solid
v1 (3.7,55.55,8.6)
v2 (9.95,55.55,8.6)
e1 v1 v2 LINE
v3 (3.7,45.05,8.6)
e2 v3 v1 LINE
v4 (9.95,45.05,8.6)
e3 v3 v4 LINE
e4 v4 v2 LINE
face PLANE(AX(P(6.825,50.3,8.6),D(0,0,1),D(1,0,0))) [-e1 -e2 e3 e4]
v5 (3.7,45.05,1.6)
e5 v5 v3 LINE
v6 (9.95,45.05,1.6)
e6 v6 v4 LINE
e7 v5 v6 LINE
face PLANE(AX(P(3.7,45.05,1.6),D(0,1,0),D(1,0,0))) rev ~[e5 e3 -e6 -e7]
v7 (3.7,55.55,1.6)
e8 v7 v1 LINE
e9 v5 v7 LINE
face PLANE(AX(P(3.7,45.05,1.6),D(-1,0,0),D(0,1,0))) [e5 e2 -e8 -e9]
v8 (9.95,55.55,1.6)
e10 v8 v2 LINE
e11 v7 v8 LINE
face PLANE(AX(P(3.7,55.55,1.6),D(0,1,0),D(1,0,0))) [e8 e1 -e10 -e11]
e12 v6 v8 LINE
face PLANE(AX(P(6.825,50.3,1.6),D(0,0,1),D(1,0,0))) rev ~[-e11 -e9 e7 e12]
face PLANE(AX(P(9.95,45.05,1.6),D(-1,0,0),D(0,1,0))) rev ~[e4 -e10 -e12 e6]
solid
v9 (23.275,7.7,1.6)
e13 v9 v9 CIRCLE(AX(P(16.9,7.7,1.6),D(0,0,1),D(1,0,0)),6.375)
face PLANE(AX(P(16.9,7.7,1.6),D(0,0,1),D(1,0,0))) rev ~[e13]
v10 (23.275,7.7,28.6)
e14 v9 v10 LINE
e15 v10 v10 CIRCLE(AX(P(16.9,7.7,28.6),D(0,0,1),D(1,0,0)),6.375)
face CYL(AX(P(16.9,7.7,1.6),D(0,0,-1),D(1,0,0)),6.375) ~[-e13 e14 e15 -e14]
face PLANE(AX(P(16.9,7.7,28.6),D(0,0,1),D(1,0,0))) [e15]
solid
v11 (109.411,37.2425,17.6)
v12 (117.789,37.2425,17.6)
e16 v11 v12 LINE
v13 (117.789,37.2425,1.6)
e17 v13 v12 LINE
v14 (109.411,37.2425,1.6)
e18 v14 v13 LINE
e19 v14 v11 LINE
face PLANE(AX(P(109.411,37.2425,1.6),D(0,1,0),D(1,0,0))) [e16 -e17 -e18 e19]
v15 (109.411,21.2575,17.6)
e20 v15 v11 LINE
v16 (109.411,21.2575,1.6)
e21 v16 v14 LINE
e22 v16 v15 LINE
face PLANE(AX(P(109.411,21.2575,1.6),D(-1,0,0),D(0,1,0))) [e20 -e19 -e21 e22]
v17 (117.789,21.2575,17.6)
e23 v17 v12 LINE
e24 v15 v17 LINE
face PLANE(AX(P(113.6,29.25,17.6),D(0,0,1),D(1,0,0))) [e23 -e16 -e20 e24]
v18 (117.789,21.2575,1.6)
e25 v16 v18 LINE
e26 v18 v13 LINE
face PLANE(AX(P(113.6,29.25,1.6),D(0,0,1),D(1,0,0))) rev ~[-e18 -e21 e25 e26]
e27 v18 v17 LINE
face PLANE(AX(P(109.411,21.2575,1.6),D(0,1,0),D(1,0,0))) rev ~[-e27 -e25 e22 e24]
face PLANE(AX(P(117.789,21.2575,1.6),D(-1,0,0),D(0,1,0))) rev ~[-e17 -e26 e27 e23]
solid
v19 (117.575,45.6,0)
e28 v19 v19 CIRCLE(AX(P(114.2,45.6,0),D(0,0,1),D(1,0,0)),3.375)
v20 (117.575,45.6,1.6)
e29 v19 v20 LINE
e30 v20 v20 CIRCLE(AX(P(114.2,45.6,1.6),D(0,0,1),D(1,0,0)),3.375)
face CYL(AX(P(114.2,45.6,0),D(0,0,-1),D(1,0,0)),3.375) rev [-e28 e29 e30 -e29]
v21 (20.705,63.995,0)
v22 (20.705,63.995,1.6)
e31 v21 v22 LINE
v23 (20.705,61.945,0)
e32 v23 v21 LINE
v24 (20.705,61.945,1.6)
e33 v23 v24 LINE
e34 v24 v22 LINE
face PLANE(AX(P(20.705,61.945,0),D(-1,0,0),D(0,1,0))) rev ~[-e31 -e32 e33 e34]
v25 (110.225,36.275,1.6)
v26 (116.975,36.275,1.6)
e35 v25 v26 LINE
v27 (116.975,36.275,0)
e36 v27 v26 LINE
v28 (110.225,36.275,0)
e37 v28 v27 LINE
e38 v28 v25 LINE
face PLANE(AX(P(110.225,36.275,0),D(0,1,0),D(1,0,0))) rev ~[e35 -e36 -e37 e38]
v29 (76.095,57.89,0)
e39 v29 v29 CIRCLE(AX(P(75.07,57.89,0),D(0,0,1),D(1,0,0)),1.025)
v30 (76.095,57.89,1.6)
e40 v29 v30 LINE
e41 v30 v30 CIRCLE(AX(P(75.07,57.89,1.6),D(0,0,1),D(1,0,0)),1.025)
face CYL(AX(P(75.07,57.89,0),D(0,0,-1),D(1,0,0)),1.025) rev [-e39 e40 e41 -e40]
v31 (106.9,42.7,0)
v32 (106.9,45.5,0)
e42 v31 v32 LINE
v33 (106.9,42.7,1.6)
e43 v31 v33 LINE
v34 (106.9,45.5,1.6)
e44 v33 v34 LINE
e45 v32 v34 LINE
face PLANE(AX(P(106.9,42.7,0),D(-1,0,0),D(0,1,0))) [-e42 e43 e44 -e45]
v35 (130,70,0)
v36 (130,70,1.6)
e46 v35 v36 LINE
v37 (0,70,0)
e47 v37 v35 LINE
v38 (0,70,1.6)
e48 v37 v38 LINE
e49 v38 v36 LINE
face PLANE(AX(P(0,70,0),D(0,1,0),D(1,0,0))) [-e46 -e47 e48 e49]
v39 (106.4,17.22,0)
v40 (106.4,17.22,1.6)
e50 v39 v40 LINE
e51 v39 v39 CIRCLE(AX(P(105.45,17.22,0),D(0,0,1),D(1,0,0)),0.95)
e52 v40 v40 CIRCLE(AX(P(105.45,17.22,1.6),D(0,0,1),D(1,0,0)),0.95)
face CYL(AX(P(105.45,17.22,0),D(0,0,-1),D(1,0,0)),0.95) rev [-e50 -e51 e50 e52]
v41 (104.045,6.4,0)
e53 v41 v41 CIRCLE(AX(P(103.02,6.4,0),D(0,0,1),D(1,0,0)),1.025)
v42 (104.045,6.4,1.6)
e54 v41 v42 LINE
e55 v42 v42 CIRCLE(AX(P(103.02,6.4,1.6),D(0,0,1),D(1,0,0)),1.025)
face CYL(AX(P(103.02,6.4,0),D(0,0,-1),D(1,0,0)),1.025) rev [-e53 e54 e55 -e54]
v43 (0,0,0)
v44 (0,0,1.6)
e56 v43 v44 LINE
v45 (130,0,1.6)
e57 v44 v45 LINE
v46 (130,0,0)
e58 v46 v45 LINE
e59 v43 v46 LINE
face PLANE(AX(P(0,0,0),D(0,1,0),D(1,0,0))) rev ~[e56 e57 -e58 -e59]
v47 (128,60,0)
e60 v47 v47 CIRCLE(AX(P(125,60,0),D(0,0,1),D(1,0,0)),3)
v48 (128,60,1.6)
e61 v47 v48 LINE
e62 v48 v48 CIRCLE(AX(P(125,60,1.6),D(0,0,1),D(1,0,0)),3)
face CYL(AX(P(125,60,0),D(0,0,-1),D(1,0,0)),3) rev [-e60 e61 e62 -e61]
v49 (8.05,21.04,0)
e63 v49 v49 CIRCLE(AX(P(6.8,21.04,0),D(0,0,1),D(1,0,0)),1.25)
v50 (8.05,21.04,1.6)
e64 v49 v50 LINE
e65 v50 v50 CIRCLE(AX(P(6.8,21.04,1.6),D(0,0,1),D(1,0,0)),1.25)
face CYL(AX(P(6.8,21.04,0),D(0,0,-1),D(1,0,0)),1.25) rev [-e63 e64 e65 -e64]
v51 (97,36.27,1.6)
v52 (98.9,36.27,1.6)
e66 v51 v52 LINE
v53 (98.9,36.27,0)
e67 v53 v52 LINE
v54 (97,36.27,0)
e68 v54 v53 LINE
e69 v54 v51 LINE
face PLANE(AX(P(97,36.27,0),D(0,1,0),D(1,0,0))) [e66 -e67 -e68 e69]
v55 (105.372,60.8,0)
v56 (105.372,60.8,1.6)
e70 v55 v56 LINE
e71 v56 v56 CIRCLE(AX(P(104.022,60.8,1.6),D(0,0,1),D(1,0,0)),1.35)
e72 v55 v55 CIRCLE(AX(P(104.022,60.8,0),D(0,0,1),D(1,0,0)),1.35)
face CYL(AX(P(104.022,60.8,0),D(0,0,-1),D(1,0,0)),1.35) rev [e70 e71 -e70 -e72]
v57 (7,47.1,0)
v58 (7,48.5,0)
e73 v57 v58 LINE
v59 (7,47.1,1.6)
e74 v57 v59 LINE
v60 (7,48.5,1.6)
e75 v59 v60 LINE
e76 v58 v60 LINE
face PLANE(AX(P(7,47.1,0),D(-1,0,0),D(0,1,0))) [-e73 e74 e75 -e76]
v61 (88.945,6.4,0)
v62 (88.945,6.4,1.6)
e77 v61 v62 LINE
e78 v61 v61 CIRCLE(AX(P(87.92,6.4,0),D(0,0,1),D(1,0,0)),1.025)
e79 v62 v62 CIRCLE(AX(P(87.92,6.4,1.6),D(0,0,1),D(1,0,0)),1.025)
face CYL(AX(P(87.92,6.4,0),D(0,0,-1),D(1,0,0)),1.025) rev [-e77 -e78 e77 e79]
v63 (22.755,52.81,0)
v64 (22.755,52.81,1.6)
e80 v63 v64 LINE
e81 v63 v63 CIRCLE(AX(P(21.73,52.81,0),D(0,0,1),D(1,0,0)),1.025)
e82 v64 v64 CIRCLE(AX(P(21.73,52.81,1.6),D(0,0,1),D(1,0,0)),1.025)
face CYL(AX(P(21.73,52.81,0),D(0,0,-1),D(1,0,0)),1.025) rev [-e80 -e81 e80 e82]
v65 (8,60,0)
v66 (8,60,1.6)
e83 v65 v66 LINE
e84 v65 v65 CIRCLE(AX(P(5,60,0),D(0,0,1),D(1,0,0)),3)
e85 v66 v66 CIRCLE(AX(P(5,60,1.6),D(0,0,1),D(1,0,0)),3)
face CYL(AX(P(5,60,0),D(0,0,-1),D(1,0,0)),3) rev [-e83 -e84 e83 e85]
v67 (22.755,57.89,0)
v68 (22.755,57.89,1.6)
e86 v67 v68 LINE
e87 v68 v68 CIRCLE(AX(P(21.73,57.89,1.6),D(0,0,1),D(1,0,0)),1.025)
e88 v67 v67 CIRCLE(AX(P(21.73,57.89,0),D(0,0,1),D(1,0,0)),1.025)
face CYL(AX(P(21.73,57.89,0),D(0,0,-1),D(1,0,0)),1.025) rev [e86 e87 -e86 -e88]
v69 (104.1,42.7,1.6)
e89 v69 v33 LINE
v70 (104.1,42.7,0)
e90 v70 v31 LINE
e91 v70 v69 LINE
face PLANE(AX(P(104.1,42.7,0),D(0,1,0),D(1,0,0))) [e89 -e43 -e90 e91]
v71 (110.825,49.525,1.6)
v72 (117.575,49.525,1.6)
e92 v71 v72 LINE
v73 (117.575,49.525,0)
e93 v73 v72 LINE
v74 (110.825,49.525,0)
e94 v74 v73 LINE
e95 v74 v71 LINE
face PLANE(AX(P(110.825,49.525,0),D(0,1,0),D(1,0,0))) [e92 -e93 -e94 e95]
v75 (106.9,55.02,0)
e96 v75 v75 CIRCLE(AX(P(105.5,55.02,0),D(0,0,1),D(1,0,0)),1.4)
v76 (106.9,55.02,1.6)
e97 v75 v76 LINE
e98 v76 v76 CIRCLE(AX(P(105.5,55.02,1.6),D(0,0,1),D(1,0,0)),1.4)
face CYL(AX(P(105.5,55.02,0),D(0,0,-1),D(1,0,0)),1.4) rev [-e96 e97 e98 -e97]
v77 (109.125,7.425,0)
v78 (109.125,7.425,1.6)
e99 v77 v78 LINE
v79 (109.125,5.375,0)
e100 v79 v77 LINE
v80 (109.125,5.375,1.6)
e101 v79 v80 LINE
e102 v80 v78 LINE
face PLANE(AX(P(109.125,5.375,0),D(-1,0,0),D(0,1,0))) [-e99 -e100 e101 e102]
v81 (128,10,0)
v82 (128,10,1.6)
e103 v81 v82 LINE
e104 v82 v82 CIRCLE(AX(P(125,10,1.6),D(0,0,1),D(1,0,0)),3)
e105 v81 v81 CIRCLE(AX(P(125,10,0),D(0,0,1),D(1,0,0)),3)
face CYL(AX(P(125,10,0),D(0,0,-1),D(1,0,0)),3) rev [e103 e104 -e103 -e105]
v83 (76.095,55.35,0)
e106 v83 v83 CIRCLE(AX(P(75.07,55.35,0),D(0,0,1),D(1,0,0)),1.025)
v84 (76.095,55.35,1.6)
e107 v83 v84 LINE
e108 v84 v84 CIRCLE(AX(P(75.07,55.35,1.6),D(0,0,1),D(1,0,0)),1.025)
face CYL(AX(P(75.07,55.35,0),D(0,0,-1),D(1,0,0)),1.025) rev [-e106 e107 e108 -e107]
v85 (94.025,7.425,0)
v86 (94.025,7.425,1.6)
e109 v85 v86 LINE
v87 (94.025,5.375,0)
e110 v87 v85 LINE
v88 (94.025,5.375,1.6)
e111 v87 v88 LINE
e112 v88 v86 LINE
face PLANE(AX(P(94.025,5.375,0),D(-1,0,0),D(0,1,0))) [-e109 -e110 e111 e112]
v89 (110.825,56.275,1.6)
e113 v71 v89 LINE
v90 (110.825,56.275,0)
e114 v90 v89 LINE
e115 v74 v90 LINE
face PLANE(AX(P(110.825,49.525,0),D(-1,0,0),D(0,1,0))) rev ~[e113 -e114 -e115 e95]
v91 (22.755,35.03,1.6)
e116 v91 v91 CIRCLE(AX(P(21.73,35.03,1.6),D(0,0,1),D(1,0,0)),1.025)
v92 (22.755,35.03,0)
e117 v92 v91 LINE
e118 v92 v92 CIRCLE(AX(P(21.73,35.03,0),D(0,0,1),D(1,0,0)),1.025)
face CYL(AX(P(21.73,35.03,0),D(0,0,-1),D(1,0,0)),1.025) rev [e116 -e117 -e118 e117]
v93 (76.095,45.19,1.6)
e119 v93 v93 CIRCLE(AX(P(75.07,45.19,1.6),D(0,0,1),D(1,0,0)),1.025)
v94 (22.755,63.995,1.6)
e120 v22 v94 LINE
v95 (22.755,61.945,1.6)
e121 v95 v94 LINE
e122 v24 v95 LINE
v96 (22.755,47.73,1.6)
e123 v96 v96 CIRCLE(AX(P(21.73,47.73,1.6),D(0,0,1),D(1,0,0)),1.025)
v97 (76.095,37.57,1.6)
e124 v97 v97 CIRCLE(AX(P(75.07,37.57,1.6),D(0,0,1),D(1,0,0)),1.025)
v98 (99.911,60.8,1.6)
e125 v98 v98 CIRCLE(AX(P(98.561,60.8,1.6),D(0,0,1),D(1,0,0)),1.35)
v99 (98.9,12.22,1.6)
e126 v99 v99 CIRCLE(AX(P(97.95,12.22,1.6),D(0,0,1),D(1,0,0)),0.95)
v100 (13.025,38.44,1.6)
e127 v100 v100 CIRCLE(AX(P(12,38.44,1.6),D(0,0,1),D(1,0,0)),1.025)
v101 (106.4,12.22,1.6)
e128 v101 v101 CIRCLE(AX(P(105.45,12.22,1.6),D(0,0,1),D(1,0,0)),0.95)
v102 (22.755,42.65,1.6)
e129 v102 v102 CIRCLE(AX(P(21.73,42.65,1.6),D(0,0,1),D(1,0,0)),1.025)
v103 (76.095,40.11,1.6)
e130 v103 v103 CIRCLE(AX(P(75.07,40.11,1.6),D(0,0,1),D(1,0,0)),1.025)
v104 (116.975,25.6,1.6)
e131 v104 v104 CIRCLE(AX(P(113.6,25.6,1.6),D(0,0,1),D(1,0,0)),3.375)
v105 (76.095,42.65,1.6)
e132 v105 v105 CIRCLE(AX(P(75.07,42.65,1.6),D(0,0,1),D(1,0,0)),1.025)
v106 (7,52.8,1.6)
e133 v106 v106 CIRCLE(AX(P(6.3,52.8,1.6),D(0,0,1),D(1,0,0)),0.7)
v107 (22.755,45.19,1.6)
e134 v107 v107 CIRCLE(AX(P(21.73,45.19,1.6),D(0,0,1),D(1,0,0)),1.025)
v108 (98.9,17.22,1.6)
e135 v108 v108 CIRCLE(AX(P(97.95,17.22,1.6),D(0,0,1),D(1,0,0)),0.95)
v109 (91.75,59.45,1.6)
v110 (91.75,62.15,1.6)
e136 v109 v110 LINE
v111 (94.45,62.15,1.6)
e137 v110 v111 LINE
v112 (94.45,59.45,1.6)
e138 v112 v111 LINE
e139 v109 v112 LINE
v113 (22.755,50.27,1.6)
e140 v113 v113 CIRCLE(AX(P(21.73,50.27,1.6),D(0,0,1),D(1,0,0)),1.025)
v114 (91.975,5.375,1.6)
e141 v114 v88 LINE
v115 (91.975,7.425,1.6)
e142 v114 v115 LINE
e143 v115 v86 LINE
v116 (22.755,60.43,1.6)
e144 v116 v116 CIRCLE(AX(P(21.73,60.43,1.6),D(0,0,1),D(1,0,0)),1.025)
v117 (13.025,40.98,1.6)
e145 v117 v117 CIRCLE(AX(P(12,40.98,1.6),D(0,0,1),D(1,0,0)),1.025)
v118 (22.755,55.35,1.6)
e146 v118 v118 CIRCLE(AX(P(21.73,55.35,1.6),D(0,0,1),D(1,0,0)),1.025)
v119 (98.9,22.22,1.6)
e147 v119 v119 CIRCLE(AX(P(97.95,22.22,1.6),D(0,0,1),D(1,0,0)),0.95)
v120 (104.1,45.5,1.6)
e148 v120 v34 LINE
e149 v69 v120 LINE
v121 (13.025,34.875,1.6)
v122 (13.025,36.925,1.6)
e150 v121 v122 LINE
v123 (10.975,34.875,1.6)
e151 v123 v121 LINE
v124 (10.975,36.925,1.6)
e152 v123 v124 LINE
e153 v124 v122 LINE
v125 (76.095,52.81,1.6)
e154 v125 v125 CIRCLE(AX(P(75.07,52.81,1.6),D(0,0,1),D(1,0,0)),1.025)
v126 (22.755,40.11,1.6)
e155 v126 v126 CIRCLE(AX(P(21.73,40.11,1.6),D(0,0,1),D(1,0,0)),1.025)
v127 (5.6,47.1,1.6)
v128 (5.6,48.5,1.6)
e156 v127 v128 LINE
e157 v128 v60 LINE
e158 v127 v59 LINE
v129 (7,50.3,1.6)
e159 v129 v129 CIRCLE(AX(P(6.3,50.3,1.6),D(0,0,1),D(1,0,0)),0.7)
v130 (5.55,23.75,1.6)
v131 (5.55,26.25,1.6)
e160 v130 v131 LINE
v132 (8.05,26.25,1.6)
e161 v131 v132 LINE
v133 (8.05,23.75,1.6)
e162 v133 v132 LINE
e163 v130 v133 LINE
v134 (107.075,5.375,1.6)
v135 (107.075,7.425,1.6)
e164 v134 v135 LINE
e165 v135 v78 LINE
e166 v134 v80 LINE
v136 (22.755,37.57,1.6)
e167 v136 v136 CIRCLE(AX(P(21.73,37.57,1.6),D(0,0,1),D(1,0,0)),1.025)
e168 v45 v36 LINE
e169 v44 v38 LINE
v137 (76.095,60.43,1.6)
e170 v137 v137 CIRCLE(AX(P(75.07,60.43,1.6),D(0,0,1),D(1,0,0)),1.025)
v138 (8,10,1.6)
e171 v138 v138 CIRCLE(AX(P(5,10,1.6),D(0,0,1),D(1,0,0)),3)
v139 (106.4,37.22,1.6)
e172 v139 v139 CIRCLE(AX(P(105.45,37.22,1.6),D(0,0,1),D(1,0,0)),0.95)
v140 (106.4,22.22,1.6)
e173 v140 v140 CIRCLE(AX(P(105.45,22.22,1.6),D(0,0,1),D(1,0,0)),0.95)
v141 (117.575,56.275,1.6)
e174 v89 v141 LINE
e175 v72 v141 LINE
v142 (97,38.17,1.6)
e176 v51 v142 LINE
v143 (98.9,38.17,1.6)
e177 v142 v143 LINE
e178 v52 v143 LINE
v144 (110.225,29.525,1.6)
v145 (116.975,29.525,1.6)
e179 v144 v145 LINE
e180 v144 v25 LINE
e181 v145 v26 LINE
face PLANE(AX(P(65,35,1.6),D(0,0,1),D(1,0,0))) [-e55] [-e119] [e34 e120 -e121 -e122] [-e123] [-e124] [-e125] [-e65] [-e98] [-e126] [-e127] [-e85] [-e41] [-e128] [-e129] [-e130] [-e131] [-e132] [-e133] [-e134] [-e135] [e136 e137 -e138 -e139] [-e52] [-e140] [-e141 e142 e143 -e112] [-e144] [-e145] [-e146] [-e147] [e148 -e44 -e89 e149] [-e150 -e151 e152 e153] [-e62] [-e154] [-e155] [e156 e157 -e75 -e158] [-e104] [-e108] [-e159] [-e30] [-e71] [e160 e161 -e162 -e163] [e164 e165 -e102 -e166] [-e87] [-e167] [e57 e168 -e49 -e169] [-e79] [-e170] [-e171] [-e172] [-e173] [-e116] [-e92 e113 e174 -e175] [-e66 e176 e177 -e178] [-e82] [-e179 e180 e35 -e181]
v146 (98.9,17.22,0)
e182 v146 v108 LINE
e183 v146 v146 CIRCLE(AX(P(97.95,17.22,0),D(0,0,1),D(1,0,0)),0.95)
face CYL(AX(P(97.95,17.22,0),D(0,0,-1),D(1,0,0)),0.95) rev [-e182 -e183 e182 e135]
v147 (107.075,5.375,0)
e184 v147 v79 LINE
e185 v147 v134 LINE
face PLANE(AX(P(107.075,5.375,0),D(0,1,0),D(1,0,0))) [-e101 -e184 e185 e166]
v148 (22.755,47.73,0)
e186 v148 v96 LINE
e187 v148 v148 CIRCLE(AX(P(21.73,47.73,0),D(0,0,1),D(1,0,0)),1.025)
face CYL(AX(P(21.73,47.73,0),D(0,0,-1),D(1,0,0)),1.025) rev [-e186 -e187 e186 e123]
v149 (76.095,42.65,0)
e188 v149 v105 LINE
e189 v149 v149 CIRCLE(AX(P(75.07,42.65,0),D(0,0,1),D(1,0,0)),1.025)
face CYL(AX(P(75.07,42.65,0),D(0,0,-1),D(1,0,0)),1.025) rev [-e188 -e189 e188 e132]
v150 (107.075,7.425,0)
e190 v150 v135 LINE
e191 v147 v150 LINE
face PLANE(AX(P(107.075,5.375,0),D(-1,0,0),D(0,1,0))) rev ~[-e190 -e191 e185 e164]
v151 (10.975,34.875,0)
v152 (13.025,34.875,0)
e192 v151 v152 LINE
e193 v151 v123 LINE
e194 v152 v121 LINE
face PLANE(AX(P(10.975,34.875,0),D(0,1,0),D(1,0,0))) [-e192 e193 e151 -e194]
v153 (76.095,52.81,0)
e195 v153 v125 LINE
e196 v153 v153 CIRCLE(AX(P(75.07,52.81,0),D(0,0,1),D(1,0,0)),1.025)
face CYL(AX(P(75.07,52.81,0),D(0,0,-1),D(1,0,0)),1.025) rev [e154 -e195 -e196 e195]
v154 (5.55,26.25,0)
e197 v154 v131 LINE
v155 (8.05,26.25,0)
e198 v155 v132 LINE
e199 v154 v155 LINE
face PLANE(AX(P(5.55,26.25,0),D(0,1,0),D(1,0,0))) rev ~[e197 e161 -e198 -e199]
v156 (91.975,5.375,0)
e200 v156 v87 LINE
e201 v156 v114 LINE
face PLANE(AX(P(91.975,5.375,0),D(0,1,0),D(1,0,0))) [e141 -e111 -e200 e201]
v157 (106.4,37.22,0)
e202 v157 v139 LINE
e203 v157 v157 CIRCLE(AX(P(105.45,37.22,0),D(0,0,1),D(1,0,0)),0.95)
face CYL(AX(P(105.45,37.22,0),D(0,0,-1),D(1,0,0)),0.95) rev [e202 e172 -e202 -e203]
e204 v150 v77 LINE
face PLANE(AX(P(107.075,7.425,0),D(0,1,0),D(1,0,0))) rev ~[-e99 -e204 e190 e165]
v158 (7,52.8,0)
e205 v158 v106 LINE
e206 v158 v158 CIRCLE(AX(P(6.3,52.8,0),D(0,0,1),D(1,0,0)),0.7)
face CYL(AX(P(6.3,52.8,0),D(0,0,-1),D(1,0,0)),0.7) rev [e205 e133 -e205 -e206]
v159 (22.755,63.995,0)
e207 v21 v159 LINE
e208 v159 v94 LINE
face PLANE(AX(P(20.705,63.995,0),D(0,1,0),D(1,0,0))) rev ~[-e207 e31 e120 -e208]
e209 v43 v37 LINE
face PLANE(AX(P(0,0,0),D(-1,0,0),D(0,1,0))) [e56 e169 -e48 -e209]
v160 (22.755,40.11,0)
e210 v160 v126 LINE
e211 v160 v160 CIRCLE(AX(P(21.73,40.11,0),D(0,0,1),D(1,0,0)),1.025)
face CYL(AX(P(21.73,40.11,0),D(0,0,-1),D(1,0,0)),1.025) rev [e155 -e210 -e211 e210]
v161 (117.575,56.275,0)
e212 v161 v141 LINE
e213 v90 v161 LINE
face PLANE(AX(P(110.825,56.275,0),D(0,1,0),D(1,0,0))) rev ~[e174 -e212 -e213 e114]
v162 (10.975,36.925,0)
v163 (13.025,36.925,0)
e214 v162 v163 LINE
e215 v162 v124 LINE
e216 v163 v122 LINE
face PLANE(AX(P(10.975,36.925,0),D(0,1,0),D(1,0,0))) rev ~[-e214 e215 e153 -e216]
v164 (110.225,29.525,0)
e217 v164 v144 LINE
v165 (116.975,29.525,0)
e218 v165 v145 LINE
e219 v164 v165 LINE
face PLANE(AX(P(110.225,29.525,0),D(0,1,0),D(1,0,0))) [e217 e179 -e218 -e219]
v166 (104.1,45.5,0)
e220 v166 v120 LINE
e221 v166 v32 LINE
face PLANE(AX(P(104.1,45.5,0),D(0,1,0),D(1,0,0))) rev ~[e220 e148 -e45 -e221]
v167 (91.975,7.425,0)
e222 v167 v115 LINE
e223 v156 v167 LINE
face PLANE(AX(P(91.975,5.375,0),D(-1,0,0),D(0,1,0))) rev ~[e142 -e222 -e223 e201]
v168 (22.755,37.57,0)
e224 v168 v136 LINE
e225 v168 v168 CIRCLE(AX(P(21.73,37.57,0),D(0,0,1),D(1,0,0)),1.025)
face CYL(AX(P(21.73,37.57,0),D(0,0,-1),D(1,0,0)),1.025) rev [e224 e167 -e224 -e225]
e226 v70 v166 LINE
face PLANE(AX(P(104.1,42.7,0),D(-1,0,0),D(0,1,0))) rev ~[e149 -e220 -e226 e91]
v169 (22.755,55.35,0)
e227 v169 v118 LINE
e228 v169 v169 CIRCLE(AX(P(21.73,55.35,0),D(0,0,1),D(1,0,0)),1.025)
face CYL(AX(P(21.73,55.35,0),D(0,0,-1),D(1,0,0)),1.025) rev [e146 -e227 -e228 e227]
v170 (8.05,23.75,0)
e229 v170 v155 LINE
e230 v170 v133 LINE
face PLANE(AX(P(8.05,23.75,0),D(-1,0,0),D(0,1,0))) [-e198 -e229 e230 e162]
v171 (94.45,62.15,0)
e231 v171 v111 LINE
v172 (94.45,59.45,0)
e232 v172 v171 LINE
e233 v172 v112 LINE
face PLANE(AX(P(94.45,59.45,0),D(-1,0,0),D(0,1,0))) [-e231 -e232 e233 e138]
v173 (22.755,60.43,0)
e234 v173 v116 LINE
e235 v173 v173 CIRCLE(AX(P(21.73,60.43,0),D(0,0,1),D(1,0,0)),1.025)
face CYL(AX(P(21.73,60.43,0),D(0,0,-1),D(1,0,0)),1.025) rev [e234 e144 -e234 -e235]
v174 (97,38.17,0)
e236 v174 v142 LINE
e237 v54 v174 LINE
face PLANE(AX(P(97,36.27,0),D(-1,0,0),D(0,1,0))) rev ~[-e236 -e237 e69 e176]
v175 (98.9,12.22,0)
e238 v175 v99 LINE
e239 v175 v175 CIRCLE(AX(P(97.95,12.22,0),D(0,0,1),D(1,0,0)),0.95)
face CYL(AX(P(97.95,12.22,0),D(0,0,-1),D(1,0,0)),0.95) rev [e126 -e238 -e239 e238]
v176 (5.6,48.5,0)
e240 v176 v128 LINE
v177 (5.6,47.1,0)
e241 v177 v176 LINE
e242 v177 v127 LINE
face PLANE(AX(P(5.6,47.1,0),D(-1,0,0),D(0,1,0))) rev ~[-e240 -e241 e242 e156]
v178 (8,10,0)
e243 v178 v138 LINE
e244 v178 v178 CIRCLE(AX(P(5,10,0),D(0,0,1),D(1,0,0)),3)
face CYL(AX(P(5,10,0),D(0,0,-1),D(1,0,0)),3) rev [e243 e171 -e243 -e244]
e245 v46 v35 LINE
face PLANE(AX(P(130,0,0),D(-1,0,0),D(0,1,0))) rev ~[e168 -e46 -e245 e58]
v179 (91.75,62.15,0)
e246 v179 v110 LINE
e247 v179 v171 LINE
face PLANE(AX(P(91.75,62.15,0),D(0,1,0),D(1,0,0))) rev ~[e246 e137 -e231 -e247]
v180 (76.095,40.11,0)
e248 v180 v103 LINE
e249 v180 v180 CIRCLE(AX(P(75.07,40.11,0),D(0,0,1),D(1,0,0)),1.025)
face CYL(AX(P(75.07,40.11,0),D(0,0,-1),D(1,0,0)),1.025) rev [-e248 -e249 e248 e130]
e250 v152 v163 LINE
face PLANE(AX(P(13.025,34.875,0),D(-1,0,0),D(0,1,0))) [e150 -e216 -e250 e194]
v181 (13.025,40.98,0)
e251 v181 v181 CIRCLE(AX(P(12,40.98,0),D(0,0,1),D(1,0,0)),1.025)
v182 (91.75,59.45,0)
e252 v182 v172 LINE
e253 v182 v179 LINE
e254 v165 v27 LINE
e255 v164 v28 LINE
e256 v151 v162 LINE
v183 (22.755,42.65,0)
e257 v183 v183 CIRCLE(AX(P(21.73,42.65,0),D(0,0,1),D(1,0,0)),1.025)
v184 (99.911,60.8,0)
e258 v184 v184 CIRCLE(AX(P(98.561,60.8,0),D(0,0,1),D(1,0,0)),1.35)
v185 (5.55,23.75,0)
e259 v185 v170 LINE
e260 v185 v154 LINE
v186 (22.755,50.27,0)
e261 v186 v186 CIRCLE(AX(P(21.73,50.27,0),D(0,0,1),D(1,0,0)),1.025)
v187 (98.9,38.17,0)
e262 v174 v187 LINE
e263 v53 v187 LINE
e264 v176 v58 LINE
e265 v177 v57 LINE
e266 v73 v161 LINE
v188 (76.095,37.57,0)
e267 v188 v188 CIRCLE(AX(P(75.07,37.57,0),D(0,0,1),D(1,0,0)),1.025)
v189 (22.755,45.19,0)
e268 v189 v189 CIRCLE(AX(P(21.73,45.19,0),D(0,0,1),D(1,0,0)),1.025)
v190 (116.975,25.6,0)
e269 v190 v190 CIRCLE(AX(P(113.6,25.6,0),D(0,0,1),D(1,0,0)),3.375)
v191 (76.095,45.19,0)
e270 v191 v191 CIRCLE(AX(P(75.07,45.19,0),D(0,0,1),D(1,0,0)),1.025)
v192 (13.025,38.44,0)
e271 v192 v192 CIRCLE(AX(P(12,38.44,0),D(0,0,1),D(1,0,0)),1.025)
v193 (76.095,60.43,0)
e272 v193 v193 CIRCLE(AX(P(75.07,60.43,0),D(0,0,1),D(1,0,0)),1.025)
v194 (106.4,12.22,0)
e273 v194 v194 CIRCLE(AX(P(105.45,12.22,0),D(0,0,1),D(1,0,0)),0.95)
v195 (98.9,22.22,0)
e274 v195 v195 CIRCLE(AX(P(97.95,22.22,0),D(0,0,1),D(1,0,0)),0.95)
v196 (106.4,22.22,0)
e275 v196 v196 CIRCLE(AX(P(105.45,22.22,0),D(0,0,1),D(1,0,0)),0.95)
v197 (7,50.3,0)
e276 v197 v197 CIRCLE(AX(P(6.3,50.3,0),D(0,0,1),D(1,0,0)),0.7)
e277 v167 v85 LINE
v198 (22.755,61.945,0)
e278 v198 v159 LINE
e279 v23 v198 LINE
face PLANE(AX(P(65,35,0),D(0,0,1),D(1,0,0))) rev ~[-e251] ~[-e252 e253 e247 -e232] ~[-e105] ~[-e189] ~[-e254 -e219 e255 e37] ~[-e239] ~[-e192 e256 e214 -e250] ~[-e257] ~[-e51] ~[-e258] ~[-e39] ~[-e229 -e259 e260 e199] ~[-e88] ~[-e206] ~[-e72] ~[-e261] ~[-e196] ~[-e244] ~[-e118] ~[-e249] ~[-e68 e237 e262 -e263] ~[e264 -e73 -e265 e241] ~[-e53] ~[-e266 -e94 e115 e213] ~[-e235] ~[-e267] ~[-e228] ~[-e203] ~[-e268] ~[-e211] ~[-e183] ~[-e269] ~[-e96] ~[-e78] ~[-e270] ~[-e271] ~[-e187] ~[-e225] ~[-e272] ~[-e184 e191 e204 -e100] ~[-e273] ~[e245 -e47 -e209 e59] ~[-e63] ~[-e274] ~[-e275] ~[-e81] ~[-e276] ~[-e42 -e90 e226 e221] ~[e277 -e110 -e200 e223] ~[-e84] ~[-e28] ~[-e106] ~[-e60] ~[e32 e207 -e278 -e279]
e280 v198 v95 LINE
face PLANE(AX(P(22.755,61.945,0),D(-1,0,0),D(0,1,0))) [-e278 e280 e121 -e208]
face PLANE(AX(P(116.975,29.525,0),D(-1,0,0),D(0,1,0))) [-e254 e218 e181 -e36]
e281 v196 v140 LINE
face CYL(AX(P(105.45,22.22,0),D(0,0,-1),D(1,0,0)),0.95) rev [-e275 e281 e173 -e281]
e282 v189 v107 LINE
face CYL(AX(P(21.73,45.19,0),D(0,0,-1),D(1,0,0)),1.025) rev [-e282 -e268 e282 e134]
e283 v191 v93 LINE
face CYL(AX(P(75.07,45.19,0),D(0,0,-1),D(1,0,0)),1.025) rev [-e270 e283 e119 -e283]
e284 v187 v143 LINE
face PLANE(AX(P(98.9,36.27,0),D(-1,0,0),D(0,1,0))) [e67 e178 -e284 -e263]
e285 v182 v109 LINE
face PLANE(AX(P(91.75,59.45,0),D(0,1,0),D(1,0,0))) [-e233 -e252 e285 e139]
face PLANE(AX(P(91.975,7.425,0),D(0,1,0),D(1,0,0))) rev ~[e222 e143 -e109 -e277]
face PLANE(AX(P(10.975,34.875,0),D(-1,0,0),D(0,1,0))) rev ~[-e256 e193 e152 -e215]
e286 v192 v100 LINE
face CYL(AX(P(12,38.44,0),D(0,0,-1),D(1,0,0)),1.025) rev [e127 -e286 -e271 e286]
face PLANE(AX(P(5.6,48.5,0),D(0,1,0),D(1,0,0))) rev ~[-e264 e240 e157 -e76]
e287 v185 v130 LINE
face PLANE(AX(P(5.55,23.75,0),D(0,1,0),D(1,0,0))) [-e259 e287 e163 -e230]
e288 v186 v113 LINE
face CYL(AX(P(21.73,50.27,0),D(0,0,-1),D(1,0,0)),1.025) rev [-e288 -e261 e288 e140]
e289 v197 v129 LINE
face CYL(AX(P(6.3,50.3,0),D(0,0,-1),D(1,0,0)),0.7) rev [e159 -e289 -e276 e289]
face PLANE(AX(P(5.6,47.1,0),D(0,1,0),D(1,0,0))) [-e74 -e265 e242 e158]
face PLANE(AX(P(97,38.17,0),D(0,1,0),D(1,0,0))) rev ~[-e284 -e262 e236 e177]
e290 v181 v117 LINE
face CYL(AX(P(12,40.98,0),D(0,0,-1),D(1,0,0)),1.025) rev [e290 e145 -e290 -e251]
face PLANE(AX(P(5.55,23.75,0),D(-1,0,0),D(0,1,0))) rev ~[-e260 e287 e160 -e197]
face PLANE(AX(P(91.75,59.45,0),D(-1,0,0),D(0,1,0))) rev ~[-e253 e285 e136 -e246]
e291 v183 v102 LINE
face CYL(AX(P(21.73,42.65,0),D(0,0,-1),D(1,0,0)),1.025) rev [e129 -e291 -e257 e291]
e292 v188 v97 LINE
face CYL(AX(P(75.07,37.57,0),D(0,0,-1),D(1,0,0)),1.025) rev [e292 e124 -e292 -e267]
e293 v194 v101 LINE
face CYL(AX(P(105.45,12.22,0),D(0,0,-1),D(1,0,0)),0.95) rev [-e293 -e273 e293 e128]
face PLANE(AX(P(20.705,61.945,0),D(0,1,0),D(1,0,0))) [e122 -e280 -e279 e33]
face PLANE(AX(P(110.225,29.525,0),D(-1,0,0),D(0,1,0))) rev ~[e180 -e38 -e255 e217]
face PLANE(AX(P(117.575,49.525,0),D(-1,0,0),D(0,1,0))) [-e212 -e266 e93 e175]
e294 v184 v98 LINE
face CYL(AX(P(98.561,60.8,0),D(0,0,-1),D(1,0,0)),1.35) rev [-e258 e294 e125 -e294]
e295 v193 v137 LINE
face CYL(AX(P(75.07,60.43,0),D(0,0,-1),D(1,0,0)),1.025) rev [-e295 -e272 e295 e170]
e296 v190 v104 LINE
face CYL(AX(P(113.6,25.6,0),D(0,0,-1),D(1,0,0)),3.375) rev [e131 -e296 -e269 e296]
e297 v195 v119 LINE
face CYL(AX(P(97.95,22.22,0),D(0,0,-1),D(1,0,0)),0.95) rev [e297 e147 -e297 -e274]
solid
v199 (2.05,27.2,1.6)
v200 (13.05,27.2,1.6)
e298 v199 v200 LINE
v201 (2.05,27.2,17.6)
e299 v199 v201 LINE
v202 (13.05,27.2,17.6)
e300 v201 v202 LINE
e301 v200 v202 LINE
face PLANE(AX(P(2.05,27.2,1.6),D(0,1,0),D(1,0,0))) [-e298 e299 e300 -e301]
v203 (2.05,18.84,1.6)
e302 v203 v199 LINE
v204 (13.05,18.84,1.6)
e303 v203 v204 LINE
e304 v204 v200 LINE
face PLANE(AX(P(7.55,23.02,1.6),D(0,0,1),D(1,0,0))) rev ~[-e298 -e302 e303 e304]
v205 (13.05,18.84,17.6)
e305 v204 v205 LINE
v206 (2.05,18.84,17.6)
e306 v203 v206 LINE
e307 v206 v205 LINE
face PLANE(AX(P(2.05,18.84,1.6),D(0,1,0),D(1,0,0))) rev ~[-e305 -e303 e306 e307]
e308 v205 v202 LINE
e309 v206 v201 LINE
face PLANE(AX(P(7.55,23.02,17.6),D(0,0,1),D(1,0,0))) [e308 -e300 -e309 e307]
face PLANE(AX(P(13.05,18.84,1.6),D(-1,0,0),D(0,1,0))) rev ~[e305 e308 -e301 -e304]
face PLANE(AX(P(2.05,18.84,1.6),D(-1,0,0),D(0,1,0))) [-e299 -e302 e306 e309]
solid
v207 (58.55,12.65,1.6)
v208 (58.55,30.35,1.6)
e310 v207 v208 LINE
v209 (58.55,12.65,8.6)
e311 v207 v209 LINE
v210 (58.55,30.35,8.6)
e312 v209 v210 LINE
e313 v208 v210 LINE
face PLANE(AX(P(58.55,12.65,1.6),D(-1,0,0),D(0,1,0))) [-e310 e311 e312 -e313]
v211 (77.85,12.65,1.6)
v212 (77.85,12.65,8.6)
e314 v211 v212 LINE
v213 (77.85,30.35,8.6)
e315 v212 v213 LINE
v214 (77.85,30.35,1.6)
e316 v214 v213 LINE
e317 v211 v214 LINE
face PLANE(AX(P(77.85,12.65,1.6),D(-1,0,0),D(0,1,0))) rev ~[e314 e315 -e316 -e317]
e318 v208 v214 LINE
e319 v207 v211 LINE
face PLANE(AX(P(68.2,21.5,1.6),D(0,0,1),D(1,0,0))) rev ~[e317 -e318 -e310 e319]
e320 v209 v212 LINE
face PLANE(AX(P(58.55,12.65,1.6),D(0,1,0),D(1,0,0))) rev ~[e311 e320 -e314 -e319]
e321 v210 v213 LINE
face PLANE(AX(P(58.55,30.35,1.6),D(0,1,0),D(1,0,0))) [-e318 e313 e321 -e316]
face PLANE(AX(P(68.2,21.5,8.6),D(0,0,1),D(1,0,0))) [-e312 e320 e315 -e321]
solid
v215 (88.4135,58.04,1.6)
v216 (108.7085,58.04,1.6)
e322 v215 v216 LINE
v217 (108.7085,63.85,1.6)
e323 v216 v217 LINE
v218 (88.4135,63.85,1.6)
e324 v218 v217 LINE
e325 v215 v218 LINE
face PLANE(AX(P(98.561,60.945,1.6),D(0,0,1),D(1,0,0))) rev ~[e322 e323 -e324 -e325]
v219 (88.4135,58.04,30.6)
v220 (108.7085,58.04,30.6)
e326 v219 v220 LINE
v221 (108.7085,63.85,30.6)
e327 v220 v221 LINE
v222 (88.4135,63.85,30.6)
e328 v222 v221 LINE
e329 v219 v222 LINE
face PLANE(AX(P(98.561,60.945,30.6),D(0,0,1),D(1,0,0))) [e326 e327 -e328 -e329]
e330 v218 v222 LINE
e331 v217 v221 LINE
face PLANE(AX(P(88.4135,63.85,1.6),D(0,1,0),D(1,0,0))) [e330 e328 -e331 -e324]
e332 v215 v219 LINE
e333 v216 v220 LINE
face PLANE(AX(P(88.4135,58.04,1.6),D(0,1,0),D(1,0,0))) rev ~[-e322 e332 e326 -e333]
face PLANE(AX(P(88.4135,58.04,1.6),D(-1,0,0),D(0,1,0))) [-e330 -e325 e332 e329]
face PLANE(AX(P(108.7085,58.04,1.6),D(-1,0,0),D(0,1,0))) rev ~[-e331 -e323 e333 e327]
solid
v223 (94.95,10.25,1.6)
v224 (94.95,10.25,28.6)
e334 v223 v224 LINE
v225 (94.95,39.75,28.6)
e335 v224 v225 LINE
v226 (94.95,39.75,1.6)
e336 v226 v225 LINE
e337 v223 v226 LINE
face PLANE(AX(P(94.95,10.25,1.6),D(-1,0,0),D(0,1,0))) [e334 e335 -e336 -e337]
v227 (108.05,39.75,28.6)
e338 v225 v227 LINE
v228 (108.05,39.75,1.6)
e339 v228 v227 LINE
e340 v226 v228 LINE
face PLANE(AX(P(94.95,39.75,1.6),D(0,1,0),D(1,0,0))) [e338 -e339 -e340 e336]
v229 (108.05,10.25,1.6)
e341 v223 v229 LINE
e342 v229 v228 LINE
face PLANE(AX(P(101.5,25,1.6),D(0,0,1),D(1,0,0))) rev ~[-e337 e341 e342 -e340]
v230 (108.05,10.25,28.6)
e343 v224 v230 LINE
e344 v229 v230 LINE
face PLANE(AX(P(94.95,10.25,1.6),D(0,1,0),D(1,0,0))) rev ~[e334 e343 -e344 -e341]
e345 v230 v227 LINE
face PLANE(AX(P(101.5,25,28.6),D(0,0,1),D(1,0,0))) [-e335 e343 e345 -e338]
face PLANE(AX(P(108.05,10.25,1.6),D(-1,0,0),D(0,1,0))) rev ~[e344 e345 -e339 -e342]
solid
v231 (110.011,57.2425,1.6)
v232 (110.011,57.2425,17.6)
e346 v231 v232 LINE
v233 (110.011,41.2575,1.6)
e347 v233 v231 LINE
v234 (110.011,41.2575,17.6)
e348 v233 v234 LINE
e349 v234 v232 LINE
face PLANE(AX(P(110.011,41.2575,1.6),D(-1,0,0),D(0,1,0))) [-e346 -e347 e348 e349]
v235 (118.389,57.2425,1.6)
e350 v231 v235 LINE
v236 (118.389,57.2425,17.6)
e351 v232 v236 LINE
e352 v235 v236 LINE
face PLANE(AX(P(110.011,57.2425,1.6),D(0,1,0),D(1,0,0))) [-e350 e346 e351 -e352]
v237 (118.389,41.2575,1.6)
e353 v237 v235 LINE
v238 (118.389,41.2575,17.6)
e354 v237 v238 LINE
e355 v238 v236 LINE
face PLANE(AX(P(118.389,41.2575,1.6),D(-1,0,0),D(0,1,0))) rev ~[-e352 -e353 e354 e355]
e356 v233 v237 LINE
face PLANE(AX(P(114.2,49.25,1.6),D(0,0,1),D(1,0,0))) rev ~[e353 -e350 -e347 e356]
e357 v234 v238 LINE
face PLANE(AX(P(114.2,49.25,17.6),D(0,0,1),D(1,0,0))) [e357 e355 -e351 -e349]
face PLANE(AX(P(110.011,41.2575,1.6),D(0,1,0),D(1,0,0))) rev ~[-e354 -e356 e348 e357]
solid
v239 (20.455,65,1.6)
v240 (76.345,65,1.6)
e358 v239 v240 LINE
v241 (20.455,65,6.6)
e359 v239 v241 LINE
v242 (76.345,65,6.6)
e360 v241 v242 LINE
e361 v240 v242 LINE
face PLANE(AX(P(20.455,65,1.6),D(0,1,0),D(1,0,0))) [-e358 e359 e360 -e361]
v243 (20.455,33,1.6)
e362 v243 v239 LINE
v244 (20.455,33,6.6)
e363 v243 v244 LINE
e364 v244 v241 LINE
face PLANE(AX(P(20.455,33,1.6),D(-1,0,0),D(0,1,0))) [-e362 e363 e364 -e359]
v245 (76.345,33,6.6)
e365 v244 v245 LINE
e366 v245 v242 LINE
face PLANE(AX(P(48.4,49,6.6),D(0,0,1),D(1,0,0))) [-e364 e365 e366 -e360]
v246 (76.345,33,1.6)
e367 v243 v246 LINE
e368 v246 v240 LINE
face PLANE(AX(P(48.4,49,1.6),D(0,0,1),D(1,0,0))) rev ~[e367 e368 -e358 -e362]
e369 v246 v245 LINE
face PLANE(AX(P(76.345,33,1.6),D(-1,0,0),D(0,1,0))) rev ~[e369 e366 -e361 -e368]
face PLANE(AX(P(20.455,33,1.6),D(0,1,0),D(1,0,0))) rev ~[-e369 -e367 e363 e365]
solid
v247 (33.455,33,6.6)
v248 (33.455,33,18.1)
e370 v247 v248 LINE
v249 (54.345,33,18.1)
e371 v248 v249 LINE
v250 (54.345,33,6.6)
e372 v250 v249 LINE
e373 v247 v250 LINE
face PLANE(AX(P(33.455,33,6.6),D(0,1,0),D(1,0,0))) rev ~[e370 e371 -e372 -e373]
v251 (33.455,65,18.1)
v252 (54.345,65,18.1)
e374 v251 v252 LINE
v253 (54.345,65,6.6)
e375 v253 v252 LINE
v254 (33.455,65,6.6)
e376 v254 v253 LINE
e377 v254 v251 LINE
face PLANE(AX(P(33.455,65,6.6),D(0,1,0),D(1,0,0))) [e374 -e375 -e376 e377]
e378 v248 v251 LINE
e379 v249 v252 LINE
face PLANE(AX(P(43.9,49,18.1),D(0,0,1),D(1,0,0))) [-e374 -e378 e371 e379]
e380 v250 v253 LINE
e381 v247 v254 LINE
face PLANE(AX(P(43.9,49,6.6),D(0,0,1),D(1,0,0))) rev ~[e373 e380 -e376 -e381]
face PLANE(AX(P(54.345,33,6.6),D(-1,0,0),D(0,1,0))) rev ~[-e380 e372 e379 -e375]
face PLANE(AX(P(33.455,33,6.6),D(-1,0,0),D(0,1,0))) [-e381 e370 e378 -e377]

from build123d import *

# Parameters (mm, degrees)
MODEL_W               = 130
MODEL_H               = 70
MODEL_R               = 3
MODEL_R_2             = 3.375
MODEL_R_3             = 1.025
MODEL_R_4             = 0.95
MODEL_R_5             = 1.4
MODEL_R_6             = 1.25
MODEL_R_7             = 1.35
MODEL_R_8             = 0.7
MODEL_W_2             = 6.75
MODEL_H_2             = 6.75
MODEL_W_3             = 2.05
MODEL_H_3             = 2.05
MODEL_W_4             = 1.9
MODEL_H_4             = 1.9
MODEL_W_5             = 2.8
MODEL_H_5             = 2.8
MODEL_W_6             = 2.5
MODEL_H_6             = 2.5
MODEL_W_7             = 2.7
MODEL_H_7             = 2.7
MODEL_W_8             = 1.4
MODEL_H_8             = 1.4
BOSS_EXTRUDE1_DEPTH   = 1.6
SKETCH4_W             = 8.378
SKETCH4_H             = 15.985
BOSS_EXTRUDE2_DEPTH   = 16
BOSS_EXTRUDE2_2_DEPTH = 16
SKETCH5_R             = 6.375
BOSS_EXTRUDE3_DEPTH   = 27
SKETCH5_W             = 13.1
SKETCH5_H             = 29.5
BOSS_EXTRUDE3_2_DEPTH = 27
SKETCH6_W             = 19.3
SKETCH6_H             = 17.7
BOSS_EXTRUDE4_DEPTH   = 7
SKETCH7_W             = 20.295
SKETCH7_H             = 5.81
BOSS_EXTRUDE5_DEPTH   = 29
SKETCH9_W             = 6.25
SKETCH9_H             = 10.5
BOSS_EXTRUDE7_DEPTH   = 7
SKETCH11_W            = 11
SKETCH11_H            = 8.36
BOSS_EXTRUDE8_DEPTH   = 16
SKETCH12_W            = 55.89
SKETCH12_H            = 32
BOSS_EXTRUDE9_DEPTH   = 5
SKETCH8_W             = 20.89
SKETCH8_H             = 32
BOSS_EXTRUDE6_DEPTH   = 11.5


with BuildPart() as part:
    # Model → Boss-Extrude1 (new body)
    with BuildSketch(Plane.XY):
        with Locations((65, 35)):
            Rectangle(MODEL_W, MODEL_H)
        with Locations((5, 60)):
            Circle(MODEL_R, mode=Mode.SUBTRACT)
        with Locations((125, 60)):
            Circle(MODEL_R, mode=Mode.SUBTRACT)
        with Locations((125, 10)):
            Circle(MODEL_R, mode=Mode.SUBTRACT)
        with Locations((5, 10)):
            Circle(MODEL_R, mode=Mode.SUBTRACT)
        with Locations((113.6, 25.6)):
            Circle(MODEL_R_2, mode=Mode.SUBTRACT)
        with Locations((114.2, 45.6)):
            Circle(MODEL_R_2, mode=Mode.SUBTRACT)
        with Locations((87.92, 6.4)):
            Circle(MODEL_R_3, mode=Mode.SUBTRACT)
        with Locations((103.02, 6.4)):
            Circle(MODEL_R_3, mode=Mode.SUBTRACT)
        with Locations((97.95, 22.22)):
            Circle(MODEL_R_4, mode=Mode.SUBTRACT)
        with Locations((97.95, 17.22)):
            Circle(MODEL_R_4, mode=Mode.SUBTRACT)
        with Locations((97.95, 12.22)):
            Circle(MODEL_R_4, mode=Mode.SUBTRACT)
        with Locations((105.45, 12.22)):
            Circle(MODEL_R_4, mode=Mode.SUBTRACT)
        with Locations((105.45, 17.22)):
            Circle(MODEL_R_4, mode=Mode.SUBTRACT)
        with Locations((105.45, 22.22)):
            Circle(MODEL_R_4, mode=Mode.SUBTRACT)
        with Locations((105.45, 37.22)):
            Circle(MODEL_R_4, mode=Mode.SUBTRACT)
        with Locations((105.5, 55.02)):
            Circle(MODEL_R_5, mode=Mode.SUBTRACT)
        with Locations((6.8, 21.04)):
            Circle(MODEL_R_6, mode=Mode.SUBTRACT)
        with Locations((98.561, 60.8)):
            Circle(MODEL_R_7, mode=Mode.SUBTRACT)
        with Locations((104.022, 60.8)):
            Circle(MODEL_R_7, mode=Mode.SUBTRACT)
        with Locations((6.3, 50.3)):
            Circle(MODEL_R_8, mode=Mode.SUBTRACT)
        with Locations((6.3, 52.8)):
            Circle(MODEL_R_8, mode=Mode.SUBTRACT)
        with Locations((21.73, 60.43)):
            Circle(MODEL_R_3, mode=Mode.SUBTRACT)
        with Locations((21.73, 57.89)):
            Circle(MODEL_R_3, mode=Mode.SUBTRACT)
        with Locations((21.73, 55.35)):
            Circle(MODEL_R_3, mode=Mode.SUBTRACT)
        with Locations((21.73, 52.81)):
            Circle(MODEL_R_3, mode=Mode.SUBTRACT)
        with Locations((21.73, 50.27)):
            Circle(MODEL_R_3, mode=Mode.SUBTRACT)
        with Locations((21.73, 47.73)):
            Circle(MODEL_R_3, mode=Mode.SUBTRACT)
        with Locations((21.73, 45.19)):
            Circle(MODEL_R_3, mode=Mode.SUBTRACT)
        with Locations((21.73, 42.65)):
            Circle(MODEL_R_3, mode=Mode.SUBTRACT)
        with Locations((21.73, 40.11)):
            Circle(MODEL_R_3, mode=Mode.SUBTRACT)
        with Locations((21.73, 37.57)):
            Circle(MODEL_R_3, mode=Mode.SUBTRACT)
        with Locations((21.73, 35.03)):
            Circle(MODEL_R_3, mode=Mode.SUBTRACT)
        with Locations((75.07, 37.57)):
            Circle(MODEL_R_3, mode=Mode.SUBTRACT)
        with Locations((75.07, 40.11)):
            Circle(MODEL_R_3, mode=Mode.SUBTRACT)
        with Locations((75.07, 42.65)):
            Circle(MODEL_R_3, mode=Mode.SUBTRACT)
        with Locations((75.07, 45.19)):
            Circle(MODEL_R_3, mode=Mode.SUBTRACT)
        with Locations((75.07, 52.81)):
            Circle(MODEL_R_3, mode=Mode.SUBTRACT)
        with Locations((75.07, 55.35)):
            Circle(MODEL_R_3, mode=Mode.SUBTRACT)
        with Locations((75.07, 57.89)):
            Circle(MODEL_R_3, mode=Mode.SUBTRACT)
        with Locations((75.07, 60.43)):
            Circle(MODEL_R_3, mode=Mode.SUBTRACT)
        with Locations((12, 38.44)):
            Circle(MODEL_R_3, mode=Mode.SUBTRACT)
        with Locations((12, 40.98)):
            Circle(MODEL_R_3, mode=Mode.SUBTRACT)
        with Locations((113.6, 32.9)):
            Rectangle(MODEL_W_2, MODEL_H_2, mode=Mode.SUBTRACT)
        with Locations((114.2, 52.9)):
            Rectangle(MODEL_W_2, MODEL_H_2, mode=Mode.SUBTRACT)
        with Locations((93, 6.4)):
            Rectangle(MODEL_W_3, MODEL_H_3, mode=Mode.SUBTRACT)
        with Locations((108.1, 6.4)):
            Rectangle(MODEL_W_3, MODEL_H_3, mode=Mode.SUBTRACT)
        with Locations((97.95, 37.22)):
            Rectangle(MODEL_W_4, MODEL_H_4, mode=Mode.SUBTRACT)
        with Locations((105.5, 44.1)):
            Rectangle(MODEL_W_5, MODEL_H_5, mode=Mode.SUBTRACT)
        with Locations((6.8, 25)):
            Rectangle(MODEL_W_6, MODEL_H_6, mode=Mode.SUBTRACT)
        with Locations((93.1, 60.8)):
            Rectangle(MODEL_W_7, MODEL_H_7, mode=Mode.SUBTRACT)
        with Locations((6.3, 47.8)):
            Rectangle(MODEL_W_8, MODEL_H_8, mode=Mode.SUBTRACT)
        with Locations((21.73, 62.97)):
            Rectangle(MODEL_W_3, MODEL_H_3, mode=Mode.SUBTRACT)
        with Locations((12, 35.9)):
            Rectangle(MODEL_W_3, MODEL_H_3, mode=Mode.SUBTRACT)
    extrude(amount=BOSS_EXTRUDE1_DEPTH)


with BuildPart() as body_2:
    # Sketch4 → Boss-Extrude2 (new body)
    with BuildSketch(Plane.XY.offset(1.6)):
        with Locations((113.6, 29.25)):
            Rectangle(SKETCH4_W, SKETCH4_H)
    extrude(amount=BOSS_EXTRUDE2_DEPTH)


with BuildPart() as body_3:
    # Sketch4 → Boss-Extrude2 2 (new body)
    with BuildSketch(Plane.XY.offset(1.6)):
        with Locations((114.2, 49.25)):
            Rectangle(SKETCH4_W, SKETCH4_H)
    extrude(amount=BOSS_EXTRUDE2_2_DEPTH)


with BuildPart() as body_4:
    # Sketch5 → Boss-Extrude3 (new body)
    with BuildSketch(Plane.XY.offset(1.6)):
        with Locations((16.9, 7.7)):
            Circle(SKETCH5_R)
    extrude(amount=BOSS_EXTRUDE3_DEPTH)


with BuildPart() as body_5:
    # Sketch5 → Boss-Extrude3 2 (new body)
    with BuildSketch(Plane.XY.offset(1.6)):
        with Locations((101.5, 25)):
            Rectangle(SKETCH5_W, SKETCH5_H)
    extrude(amount=BOSS_EXTRUDE3_2_DEPTH)


with BuildPart() as body_6:
    # Sketch6 → Boss-Extrude4 (new body)
    with BuildSketch(Plane.XY.offset(1.6)):
        with Locations((68.2, 21.5)):
            Rectangle(SKETCH6_W, SKETCH6_H)
    extrude(amount=BOSS_EXTRUDE4_DEPTH)


with BuildPart() as body_7:
    # Sketch7 → Boss-Extrude5 (new body)
    with BuildSketch(Plane.XY.offset(1.6)):
        with Locations((98.561, 60.945)):
            Rectangle(SKETCH7_W, SKETCH7_H)
    extrude(amount=BOSS_EXTRUDE5_DEPTH)


with BuildPart() as body_8:
    # Sketch9 → Boss-Extrude7 (new body)
    with BuildSketch(Plane.XY.offset(1.6)):
        with Locations((6.825, 50.3)):
            Rectangle(SKETCH9_W, SKETCH9_H)
    extrude(amount=BOSS_EXTRUDE7_DEPTH)


with BuildPart() as body_9:
    # Sketch11 → Boss-Extrude8 (new body)
    with BuildSketch(Plane.XY.offset(1.6)):
        with Locations((7.55, 23.02)):
            Rectangle(SKETCH11_W, SKETCH11_H)
    extrude(amount=BOSS_EXTRUDE8_DEPTH)


with BuildPart() as body_10:
    # Sketch12 → Boss-Extrude9 (new body)
    with BuildSketch(Plane.XY.offset(1.6)):
        with Locations((48.4, 49)):
            Rectangle(SKETCH12_W, SKETCH12_H)
    extrude(amount=BOSS_EXTRUDE9_DEPTH)


with BuildPart() as body_11:
    # Sketch8 → Boss-Extrude6 (new body)
    with BuildSketch(Plane.XY.offset(6.6)):
        with Locations((43.9, 49)):
            Rectangle(SKETCH8_W, SKETCH8_H)
    extrude(amount=BOSS_EXTRUDE6_DEPTH)


solid = Compound([part.part, body_2.part, body_3.part, body_4.part, body_5.part, body_6.part, body_7.part, body_8.part, body_9.part, body_10.part, body_11.part])
